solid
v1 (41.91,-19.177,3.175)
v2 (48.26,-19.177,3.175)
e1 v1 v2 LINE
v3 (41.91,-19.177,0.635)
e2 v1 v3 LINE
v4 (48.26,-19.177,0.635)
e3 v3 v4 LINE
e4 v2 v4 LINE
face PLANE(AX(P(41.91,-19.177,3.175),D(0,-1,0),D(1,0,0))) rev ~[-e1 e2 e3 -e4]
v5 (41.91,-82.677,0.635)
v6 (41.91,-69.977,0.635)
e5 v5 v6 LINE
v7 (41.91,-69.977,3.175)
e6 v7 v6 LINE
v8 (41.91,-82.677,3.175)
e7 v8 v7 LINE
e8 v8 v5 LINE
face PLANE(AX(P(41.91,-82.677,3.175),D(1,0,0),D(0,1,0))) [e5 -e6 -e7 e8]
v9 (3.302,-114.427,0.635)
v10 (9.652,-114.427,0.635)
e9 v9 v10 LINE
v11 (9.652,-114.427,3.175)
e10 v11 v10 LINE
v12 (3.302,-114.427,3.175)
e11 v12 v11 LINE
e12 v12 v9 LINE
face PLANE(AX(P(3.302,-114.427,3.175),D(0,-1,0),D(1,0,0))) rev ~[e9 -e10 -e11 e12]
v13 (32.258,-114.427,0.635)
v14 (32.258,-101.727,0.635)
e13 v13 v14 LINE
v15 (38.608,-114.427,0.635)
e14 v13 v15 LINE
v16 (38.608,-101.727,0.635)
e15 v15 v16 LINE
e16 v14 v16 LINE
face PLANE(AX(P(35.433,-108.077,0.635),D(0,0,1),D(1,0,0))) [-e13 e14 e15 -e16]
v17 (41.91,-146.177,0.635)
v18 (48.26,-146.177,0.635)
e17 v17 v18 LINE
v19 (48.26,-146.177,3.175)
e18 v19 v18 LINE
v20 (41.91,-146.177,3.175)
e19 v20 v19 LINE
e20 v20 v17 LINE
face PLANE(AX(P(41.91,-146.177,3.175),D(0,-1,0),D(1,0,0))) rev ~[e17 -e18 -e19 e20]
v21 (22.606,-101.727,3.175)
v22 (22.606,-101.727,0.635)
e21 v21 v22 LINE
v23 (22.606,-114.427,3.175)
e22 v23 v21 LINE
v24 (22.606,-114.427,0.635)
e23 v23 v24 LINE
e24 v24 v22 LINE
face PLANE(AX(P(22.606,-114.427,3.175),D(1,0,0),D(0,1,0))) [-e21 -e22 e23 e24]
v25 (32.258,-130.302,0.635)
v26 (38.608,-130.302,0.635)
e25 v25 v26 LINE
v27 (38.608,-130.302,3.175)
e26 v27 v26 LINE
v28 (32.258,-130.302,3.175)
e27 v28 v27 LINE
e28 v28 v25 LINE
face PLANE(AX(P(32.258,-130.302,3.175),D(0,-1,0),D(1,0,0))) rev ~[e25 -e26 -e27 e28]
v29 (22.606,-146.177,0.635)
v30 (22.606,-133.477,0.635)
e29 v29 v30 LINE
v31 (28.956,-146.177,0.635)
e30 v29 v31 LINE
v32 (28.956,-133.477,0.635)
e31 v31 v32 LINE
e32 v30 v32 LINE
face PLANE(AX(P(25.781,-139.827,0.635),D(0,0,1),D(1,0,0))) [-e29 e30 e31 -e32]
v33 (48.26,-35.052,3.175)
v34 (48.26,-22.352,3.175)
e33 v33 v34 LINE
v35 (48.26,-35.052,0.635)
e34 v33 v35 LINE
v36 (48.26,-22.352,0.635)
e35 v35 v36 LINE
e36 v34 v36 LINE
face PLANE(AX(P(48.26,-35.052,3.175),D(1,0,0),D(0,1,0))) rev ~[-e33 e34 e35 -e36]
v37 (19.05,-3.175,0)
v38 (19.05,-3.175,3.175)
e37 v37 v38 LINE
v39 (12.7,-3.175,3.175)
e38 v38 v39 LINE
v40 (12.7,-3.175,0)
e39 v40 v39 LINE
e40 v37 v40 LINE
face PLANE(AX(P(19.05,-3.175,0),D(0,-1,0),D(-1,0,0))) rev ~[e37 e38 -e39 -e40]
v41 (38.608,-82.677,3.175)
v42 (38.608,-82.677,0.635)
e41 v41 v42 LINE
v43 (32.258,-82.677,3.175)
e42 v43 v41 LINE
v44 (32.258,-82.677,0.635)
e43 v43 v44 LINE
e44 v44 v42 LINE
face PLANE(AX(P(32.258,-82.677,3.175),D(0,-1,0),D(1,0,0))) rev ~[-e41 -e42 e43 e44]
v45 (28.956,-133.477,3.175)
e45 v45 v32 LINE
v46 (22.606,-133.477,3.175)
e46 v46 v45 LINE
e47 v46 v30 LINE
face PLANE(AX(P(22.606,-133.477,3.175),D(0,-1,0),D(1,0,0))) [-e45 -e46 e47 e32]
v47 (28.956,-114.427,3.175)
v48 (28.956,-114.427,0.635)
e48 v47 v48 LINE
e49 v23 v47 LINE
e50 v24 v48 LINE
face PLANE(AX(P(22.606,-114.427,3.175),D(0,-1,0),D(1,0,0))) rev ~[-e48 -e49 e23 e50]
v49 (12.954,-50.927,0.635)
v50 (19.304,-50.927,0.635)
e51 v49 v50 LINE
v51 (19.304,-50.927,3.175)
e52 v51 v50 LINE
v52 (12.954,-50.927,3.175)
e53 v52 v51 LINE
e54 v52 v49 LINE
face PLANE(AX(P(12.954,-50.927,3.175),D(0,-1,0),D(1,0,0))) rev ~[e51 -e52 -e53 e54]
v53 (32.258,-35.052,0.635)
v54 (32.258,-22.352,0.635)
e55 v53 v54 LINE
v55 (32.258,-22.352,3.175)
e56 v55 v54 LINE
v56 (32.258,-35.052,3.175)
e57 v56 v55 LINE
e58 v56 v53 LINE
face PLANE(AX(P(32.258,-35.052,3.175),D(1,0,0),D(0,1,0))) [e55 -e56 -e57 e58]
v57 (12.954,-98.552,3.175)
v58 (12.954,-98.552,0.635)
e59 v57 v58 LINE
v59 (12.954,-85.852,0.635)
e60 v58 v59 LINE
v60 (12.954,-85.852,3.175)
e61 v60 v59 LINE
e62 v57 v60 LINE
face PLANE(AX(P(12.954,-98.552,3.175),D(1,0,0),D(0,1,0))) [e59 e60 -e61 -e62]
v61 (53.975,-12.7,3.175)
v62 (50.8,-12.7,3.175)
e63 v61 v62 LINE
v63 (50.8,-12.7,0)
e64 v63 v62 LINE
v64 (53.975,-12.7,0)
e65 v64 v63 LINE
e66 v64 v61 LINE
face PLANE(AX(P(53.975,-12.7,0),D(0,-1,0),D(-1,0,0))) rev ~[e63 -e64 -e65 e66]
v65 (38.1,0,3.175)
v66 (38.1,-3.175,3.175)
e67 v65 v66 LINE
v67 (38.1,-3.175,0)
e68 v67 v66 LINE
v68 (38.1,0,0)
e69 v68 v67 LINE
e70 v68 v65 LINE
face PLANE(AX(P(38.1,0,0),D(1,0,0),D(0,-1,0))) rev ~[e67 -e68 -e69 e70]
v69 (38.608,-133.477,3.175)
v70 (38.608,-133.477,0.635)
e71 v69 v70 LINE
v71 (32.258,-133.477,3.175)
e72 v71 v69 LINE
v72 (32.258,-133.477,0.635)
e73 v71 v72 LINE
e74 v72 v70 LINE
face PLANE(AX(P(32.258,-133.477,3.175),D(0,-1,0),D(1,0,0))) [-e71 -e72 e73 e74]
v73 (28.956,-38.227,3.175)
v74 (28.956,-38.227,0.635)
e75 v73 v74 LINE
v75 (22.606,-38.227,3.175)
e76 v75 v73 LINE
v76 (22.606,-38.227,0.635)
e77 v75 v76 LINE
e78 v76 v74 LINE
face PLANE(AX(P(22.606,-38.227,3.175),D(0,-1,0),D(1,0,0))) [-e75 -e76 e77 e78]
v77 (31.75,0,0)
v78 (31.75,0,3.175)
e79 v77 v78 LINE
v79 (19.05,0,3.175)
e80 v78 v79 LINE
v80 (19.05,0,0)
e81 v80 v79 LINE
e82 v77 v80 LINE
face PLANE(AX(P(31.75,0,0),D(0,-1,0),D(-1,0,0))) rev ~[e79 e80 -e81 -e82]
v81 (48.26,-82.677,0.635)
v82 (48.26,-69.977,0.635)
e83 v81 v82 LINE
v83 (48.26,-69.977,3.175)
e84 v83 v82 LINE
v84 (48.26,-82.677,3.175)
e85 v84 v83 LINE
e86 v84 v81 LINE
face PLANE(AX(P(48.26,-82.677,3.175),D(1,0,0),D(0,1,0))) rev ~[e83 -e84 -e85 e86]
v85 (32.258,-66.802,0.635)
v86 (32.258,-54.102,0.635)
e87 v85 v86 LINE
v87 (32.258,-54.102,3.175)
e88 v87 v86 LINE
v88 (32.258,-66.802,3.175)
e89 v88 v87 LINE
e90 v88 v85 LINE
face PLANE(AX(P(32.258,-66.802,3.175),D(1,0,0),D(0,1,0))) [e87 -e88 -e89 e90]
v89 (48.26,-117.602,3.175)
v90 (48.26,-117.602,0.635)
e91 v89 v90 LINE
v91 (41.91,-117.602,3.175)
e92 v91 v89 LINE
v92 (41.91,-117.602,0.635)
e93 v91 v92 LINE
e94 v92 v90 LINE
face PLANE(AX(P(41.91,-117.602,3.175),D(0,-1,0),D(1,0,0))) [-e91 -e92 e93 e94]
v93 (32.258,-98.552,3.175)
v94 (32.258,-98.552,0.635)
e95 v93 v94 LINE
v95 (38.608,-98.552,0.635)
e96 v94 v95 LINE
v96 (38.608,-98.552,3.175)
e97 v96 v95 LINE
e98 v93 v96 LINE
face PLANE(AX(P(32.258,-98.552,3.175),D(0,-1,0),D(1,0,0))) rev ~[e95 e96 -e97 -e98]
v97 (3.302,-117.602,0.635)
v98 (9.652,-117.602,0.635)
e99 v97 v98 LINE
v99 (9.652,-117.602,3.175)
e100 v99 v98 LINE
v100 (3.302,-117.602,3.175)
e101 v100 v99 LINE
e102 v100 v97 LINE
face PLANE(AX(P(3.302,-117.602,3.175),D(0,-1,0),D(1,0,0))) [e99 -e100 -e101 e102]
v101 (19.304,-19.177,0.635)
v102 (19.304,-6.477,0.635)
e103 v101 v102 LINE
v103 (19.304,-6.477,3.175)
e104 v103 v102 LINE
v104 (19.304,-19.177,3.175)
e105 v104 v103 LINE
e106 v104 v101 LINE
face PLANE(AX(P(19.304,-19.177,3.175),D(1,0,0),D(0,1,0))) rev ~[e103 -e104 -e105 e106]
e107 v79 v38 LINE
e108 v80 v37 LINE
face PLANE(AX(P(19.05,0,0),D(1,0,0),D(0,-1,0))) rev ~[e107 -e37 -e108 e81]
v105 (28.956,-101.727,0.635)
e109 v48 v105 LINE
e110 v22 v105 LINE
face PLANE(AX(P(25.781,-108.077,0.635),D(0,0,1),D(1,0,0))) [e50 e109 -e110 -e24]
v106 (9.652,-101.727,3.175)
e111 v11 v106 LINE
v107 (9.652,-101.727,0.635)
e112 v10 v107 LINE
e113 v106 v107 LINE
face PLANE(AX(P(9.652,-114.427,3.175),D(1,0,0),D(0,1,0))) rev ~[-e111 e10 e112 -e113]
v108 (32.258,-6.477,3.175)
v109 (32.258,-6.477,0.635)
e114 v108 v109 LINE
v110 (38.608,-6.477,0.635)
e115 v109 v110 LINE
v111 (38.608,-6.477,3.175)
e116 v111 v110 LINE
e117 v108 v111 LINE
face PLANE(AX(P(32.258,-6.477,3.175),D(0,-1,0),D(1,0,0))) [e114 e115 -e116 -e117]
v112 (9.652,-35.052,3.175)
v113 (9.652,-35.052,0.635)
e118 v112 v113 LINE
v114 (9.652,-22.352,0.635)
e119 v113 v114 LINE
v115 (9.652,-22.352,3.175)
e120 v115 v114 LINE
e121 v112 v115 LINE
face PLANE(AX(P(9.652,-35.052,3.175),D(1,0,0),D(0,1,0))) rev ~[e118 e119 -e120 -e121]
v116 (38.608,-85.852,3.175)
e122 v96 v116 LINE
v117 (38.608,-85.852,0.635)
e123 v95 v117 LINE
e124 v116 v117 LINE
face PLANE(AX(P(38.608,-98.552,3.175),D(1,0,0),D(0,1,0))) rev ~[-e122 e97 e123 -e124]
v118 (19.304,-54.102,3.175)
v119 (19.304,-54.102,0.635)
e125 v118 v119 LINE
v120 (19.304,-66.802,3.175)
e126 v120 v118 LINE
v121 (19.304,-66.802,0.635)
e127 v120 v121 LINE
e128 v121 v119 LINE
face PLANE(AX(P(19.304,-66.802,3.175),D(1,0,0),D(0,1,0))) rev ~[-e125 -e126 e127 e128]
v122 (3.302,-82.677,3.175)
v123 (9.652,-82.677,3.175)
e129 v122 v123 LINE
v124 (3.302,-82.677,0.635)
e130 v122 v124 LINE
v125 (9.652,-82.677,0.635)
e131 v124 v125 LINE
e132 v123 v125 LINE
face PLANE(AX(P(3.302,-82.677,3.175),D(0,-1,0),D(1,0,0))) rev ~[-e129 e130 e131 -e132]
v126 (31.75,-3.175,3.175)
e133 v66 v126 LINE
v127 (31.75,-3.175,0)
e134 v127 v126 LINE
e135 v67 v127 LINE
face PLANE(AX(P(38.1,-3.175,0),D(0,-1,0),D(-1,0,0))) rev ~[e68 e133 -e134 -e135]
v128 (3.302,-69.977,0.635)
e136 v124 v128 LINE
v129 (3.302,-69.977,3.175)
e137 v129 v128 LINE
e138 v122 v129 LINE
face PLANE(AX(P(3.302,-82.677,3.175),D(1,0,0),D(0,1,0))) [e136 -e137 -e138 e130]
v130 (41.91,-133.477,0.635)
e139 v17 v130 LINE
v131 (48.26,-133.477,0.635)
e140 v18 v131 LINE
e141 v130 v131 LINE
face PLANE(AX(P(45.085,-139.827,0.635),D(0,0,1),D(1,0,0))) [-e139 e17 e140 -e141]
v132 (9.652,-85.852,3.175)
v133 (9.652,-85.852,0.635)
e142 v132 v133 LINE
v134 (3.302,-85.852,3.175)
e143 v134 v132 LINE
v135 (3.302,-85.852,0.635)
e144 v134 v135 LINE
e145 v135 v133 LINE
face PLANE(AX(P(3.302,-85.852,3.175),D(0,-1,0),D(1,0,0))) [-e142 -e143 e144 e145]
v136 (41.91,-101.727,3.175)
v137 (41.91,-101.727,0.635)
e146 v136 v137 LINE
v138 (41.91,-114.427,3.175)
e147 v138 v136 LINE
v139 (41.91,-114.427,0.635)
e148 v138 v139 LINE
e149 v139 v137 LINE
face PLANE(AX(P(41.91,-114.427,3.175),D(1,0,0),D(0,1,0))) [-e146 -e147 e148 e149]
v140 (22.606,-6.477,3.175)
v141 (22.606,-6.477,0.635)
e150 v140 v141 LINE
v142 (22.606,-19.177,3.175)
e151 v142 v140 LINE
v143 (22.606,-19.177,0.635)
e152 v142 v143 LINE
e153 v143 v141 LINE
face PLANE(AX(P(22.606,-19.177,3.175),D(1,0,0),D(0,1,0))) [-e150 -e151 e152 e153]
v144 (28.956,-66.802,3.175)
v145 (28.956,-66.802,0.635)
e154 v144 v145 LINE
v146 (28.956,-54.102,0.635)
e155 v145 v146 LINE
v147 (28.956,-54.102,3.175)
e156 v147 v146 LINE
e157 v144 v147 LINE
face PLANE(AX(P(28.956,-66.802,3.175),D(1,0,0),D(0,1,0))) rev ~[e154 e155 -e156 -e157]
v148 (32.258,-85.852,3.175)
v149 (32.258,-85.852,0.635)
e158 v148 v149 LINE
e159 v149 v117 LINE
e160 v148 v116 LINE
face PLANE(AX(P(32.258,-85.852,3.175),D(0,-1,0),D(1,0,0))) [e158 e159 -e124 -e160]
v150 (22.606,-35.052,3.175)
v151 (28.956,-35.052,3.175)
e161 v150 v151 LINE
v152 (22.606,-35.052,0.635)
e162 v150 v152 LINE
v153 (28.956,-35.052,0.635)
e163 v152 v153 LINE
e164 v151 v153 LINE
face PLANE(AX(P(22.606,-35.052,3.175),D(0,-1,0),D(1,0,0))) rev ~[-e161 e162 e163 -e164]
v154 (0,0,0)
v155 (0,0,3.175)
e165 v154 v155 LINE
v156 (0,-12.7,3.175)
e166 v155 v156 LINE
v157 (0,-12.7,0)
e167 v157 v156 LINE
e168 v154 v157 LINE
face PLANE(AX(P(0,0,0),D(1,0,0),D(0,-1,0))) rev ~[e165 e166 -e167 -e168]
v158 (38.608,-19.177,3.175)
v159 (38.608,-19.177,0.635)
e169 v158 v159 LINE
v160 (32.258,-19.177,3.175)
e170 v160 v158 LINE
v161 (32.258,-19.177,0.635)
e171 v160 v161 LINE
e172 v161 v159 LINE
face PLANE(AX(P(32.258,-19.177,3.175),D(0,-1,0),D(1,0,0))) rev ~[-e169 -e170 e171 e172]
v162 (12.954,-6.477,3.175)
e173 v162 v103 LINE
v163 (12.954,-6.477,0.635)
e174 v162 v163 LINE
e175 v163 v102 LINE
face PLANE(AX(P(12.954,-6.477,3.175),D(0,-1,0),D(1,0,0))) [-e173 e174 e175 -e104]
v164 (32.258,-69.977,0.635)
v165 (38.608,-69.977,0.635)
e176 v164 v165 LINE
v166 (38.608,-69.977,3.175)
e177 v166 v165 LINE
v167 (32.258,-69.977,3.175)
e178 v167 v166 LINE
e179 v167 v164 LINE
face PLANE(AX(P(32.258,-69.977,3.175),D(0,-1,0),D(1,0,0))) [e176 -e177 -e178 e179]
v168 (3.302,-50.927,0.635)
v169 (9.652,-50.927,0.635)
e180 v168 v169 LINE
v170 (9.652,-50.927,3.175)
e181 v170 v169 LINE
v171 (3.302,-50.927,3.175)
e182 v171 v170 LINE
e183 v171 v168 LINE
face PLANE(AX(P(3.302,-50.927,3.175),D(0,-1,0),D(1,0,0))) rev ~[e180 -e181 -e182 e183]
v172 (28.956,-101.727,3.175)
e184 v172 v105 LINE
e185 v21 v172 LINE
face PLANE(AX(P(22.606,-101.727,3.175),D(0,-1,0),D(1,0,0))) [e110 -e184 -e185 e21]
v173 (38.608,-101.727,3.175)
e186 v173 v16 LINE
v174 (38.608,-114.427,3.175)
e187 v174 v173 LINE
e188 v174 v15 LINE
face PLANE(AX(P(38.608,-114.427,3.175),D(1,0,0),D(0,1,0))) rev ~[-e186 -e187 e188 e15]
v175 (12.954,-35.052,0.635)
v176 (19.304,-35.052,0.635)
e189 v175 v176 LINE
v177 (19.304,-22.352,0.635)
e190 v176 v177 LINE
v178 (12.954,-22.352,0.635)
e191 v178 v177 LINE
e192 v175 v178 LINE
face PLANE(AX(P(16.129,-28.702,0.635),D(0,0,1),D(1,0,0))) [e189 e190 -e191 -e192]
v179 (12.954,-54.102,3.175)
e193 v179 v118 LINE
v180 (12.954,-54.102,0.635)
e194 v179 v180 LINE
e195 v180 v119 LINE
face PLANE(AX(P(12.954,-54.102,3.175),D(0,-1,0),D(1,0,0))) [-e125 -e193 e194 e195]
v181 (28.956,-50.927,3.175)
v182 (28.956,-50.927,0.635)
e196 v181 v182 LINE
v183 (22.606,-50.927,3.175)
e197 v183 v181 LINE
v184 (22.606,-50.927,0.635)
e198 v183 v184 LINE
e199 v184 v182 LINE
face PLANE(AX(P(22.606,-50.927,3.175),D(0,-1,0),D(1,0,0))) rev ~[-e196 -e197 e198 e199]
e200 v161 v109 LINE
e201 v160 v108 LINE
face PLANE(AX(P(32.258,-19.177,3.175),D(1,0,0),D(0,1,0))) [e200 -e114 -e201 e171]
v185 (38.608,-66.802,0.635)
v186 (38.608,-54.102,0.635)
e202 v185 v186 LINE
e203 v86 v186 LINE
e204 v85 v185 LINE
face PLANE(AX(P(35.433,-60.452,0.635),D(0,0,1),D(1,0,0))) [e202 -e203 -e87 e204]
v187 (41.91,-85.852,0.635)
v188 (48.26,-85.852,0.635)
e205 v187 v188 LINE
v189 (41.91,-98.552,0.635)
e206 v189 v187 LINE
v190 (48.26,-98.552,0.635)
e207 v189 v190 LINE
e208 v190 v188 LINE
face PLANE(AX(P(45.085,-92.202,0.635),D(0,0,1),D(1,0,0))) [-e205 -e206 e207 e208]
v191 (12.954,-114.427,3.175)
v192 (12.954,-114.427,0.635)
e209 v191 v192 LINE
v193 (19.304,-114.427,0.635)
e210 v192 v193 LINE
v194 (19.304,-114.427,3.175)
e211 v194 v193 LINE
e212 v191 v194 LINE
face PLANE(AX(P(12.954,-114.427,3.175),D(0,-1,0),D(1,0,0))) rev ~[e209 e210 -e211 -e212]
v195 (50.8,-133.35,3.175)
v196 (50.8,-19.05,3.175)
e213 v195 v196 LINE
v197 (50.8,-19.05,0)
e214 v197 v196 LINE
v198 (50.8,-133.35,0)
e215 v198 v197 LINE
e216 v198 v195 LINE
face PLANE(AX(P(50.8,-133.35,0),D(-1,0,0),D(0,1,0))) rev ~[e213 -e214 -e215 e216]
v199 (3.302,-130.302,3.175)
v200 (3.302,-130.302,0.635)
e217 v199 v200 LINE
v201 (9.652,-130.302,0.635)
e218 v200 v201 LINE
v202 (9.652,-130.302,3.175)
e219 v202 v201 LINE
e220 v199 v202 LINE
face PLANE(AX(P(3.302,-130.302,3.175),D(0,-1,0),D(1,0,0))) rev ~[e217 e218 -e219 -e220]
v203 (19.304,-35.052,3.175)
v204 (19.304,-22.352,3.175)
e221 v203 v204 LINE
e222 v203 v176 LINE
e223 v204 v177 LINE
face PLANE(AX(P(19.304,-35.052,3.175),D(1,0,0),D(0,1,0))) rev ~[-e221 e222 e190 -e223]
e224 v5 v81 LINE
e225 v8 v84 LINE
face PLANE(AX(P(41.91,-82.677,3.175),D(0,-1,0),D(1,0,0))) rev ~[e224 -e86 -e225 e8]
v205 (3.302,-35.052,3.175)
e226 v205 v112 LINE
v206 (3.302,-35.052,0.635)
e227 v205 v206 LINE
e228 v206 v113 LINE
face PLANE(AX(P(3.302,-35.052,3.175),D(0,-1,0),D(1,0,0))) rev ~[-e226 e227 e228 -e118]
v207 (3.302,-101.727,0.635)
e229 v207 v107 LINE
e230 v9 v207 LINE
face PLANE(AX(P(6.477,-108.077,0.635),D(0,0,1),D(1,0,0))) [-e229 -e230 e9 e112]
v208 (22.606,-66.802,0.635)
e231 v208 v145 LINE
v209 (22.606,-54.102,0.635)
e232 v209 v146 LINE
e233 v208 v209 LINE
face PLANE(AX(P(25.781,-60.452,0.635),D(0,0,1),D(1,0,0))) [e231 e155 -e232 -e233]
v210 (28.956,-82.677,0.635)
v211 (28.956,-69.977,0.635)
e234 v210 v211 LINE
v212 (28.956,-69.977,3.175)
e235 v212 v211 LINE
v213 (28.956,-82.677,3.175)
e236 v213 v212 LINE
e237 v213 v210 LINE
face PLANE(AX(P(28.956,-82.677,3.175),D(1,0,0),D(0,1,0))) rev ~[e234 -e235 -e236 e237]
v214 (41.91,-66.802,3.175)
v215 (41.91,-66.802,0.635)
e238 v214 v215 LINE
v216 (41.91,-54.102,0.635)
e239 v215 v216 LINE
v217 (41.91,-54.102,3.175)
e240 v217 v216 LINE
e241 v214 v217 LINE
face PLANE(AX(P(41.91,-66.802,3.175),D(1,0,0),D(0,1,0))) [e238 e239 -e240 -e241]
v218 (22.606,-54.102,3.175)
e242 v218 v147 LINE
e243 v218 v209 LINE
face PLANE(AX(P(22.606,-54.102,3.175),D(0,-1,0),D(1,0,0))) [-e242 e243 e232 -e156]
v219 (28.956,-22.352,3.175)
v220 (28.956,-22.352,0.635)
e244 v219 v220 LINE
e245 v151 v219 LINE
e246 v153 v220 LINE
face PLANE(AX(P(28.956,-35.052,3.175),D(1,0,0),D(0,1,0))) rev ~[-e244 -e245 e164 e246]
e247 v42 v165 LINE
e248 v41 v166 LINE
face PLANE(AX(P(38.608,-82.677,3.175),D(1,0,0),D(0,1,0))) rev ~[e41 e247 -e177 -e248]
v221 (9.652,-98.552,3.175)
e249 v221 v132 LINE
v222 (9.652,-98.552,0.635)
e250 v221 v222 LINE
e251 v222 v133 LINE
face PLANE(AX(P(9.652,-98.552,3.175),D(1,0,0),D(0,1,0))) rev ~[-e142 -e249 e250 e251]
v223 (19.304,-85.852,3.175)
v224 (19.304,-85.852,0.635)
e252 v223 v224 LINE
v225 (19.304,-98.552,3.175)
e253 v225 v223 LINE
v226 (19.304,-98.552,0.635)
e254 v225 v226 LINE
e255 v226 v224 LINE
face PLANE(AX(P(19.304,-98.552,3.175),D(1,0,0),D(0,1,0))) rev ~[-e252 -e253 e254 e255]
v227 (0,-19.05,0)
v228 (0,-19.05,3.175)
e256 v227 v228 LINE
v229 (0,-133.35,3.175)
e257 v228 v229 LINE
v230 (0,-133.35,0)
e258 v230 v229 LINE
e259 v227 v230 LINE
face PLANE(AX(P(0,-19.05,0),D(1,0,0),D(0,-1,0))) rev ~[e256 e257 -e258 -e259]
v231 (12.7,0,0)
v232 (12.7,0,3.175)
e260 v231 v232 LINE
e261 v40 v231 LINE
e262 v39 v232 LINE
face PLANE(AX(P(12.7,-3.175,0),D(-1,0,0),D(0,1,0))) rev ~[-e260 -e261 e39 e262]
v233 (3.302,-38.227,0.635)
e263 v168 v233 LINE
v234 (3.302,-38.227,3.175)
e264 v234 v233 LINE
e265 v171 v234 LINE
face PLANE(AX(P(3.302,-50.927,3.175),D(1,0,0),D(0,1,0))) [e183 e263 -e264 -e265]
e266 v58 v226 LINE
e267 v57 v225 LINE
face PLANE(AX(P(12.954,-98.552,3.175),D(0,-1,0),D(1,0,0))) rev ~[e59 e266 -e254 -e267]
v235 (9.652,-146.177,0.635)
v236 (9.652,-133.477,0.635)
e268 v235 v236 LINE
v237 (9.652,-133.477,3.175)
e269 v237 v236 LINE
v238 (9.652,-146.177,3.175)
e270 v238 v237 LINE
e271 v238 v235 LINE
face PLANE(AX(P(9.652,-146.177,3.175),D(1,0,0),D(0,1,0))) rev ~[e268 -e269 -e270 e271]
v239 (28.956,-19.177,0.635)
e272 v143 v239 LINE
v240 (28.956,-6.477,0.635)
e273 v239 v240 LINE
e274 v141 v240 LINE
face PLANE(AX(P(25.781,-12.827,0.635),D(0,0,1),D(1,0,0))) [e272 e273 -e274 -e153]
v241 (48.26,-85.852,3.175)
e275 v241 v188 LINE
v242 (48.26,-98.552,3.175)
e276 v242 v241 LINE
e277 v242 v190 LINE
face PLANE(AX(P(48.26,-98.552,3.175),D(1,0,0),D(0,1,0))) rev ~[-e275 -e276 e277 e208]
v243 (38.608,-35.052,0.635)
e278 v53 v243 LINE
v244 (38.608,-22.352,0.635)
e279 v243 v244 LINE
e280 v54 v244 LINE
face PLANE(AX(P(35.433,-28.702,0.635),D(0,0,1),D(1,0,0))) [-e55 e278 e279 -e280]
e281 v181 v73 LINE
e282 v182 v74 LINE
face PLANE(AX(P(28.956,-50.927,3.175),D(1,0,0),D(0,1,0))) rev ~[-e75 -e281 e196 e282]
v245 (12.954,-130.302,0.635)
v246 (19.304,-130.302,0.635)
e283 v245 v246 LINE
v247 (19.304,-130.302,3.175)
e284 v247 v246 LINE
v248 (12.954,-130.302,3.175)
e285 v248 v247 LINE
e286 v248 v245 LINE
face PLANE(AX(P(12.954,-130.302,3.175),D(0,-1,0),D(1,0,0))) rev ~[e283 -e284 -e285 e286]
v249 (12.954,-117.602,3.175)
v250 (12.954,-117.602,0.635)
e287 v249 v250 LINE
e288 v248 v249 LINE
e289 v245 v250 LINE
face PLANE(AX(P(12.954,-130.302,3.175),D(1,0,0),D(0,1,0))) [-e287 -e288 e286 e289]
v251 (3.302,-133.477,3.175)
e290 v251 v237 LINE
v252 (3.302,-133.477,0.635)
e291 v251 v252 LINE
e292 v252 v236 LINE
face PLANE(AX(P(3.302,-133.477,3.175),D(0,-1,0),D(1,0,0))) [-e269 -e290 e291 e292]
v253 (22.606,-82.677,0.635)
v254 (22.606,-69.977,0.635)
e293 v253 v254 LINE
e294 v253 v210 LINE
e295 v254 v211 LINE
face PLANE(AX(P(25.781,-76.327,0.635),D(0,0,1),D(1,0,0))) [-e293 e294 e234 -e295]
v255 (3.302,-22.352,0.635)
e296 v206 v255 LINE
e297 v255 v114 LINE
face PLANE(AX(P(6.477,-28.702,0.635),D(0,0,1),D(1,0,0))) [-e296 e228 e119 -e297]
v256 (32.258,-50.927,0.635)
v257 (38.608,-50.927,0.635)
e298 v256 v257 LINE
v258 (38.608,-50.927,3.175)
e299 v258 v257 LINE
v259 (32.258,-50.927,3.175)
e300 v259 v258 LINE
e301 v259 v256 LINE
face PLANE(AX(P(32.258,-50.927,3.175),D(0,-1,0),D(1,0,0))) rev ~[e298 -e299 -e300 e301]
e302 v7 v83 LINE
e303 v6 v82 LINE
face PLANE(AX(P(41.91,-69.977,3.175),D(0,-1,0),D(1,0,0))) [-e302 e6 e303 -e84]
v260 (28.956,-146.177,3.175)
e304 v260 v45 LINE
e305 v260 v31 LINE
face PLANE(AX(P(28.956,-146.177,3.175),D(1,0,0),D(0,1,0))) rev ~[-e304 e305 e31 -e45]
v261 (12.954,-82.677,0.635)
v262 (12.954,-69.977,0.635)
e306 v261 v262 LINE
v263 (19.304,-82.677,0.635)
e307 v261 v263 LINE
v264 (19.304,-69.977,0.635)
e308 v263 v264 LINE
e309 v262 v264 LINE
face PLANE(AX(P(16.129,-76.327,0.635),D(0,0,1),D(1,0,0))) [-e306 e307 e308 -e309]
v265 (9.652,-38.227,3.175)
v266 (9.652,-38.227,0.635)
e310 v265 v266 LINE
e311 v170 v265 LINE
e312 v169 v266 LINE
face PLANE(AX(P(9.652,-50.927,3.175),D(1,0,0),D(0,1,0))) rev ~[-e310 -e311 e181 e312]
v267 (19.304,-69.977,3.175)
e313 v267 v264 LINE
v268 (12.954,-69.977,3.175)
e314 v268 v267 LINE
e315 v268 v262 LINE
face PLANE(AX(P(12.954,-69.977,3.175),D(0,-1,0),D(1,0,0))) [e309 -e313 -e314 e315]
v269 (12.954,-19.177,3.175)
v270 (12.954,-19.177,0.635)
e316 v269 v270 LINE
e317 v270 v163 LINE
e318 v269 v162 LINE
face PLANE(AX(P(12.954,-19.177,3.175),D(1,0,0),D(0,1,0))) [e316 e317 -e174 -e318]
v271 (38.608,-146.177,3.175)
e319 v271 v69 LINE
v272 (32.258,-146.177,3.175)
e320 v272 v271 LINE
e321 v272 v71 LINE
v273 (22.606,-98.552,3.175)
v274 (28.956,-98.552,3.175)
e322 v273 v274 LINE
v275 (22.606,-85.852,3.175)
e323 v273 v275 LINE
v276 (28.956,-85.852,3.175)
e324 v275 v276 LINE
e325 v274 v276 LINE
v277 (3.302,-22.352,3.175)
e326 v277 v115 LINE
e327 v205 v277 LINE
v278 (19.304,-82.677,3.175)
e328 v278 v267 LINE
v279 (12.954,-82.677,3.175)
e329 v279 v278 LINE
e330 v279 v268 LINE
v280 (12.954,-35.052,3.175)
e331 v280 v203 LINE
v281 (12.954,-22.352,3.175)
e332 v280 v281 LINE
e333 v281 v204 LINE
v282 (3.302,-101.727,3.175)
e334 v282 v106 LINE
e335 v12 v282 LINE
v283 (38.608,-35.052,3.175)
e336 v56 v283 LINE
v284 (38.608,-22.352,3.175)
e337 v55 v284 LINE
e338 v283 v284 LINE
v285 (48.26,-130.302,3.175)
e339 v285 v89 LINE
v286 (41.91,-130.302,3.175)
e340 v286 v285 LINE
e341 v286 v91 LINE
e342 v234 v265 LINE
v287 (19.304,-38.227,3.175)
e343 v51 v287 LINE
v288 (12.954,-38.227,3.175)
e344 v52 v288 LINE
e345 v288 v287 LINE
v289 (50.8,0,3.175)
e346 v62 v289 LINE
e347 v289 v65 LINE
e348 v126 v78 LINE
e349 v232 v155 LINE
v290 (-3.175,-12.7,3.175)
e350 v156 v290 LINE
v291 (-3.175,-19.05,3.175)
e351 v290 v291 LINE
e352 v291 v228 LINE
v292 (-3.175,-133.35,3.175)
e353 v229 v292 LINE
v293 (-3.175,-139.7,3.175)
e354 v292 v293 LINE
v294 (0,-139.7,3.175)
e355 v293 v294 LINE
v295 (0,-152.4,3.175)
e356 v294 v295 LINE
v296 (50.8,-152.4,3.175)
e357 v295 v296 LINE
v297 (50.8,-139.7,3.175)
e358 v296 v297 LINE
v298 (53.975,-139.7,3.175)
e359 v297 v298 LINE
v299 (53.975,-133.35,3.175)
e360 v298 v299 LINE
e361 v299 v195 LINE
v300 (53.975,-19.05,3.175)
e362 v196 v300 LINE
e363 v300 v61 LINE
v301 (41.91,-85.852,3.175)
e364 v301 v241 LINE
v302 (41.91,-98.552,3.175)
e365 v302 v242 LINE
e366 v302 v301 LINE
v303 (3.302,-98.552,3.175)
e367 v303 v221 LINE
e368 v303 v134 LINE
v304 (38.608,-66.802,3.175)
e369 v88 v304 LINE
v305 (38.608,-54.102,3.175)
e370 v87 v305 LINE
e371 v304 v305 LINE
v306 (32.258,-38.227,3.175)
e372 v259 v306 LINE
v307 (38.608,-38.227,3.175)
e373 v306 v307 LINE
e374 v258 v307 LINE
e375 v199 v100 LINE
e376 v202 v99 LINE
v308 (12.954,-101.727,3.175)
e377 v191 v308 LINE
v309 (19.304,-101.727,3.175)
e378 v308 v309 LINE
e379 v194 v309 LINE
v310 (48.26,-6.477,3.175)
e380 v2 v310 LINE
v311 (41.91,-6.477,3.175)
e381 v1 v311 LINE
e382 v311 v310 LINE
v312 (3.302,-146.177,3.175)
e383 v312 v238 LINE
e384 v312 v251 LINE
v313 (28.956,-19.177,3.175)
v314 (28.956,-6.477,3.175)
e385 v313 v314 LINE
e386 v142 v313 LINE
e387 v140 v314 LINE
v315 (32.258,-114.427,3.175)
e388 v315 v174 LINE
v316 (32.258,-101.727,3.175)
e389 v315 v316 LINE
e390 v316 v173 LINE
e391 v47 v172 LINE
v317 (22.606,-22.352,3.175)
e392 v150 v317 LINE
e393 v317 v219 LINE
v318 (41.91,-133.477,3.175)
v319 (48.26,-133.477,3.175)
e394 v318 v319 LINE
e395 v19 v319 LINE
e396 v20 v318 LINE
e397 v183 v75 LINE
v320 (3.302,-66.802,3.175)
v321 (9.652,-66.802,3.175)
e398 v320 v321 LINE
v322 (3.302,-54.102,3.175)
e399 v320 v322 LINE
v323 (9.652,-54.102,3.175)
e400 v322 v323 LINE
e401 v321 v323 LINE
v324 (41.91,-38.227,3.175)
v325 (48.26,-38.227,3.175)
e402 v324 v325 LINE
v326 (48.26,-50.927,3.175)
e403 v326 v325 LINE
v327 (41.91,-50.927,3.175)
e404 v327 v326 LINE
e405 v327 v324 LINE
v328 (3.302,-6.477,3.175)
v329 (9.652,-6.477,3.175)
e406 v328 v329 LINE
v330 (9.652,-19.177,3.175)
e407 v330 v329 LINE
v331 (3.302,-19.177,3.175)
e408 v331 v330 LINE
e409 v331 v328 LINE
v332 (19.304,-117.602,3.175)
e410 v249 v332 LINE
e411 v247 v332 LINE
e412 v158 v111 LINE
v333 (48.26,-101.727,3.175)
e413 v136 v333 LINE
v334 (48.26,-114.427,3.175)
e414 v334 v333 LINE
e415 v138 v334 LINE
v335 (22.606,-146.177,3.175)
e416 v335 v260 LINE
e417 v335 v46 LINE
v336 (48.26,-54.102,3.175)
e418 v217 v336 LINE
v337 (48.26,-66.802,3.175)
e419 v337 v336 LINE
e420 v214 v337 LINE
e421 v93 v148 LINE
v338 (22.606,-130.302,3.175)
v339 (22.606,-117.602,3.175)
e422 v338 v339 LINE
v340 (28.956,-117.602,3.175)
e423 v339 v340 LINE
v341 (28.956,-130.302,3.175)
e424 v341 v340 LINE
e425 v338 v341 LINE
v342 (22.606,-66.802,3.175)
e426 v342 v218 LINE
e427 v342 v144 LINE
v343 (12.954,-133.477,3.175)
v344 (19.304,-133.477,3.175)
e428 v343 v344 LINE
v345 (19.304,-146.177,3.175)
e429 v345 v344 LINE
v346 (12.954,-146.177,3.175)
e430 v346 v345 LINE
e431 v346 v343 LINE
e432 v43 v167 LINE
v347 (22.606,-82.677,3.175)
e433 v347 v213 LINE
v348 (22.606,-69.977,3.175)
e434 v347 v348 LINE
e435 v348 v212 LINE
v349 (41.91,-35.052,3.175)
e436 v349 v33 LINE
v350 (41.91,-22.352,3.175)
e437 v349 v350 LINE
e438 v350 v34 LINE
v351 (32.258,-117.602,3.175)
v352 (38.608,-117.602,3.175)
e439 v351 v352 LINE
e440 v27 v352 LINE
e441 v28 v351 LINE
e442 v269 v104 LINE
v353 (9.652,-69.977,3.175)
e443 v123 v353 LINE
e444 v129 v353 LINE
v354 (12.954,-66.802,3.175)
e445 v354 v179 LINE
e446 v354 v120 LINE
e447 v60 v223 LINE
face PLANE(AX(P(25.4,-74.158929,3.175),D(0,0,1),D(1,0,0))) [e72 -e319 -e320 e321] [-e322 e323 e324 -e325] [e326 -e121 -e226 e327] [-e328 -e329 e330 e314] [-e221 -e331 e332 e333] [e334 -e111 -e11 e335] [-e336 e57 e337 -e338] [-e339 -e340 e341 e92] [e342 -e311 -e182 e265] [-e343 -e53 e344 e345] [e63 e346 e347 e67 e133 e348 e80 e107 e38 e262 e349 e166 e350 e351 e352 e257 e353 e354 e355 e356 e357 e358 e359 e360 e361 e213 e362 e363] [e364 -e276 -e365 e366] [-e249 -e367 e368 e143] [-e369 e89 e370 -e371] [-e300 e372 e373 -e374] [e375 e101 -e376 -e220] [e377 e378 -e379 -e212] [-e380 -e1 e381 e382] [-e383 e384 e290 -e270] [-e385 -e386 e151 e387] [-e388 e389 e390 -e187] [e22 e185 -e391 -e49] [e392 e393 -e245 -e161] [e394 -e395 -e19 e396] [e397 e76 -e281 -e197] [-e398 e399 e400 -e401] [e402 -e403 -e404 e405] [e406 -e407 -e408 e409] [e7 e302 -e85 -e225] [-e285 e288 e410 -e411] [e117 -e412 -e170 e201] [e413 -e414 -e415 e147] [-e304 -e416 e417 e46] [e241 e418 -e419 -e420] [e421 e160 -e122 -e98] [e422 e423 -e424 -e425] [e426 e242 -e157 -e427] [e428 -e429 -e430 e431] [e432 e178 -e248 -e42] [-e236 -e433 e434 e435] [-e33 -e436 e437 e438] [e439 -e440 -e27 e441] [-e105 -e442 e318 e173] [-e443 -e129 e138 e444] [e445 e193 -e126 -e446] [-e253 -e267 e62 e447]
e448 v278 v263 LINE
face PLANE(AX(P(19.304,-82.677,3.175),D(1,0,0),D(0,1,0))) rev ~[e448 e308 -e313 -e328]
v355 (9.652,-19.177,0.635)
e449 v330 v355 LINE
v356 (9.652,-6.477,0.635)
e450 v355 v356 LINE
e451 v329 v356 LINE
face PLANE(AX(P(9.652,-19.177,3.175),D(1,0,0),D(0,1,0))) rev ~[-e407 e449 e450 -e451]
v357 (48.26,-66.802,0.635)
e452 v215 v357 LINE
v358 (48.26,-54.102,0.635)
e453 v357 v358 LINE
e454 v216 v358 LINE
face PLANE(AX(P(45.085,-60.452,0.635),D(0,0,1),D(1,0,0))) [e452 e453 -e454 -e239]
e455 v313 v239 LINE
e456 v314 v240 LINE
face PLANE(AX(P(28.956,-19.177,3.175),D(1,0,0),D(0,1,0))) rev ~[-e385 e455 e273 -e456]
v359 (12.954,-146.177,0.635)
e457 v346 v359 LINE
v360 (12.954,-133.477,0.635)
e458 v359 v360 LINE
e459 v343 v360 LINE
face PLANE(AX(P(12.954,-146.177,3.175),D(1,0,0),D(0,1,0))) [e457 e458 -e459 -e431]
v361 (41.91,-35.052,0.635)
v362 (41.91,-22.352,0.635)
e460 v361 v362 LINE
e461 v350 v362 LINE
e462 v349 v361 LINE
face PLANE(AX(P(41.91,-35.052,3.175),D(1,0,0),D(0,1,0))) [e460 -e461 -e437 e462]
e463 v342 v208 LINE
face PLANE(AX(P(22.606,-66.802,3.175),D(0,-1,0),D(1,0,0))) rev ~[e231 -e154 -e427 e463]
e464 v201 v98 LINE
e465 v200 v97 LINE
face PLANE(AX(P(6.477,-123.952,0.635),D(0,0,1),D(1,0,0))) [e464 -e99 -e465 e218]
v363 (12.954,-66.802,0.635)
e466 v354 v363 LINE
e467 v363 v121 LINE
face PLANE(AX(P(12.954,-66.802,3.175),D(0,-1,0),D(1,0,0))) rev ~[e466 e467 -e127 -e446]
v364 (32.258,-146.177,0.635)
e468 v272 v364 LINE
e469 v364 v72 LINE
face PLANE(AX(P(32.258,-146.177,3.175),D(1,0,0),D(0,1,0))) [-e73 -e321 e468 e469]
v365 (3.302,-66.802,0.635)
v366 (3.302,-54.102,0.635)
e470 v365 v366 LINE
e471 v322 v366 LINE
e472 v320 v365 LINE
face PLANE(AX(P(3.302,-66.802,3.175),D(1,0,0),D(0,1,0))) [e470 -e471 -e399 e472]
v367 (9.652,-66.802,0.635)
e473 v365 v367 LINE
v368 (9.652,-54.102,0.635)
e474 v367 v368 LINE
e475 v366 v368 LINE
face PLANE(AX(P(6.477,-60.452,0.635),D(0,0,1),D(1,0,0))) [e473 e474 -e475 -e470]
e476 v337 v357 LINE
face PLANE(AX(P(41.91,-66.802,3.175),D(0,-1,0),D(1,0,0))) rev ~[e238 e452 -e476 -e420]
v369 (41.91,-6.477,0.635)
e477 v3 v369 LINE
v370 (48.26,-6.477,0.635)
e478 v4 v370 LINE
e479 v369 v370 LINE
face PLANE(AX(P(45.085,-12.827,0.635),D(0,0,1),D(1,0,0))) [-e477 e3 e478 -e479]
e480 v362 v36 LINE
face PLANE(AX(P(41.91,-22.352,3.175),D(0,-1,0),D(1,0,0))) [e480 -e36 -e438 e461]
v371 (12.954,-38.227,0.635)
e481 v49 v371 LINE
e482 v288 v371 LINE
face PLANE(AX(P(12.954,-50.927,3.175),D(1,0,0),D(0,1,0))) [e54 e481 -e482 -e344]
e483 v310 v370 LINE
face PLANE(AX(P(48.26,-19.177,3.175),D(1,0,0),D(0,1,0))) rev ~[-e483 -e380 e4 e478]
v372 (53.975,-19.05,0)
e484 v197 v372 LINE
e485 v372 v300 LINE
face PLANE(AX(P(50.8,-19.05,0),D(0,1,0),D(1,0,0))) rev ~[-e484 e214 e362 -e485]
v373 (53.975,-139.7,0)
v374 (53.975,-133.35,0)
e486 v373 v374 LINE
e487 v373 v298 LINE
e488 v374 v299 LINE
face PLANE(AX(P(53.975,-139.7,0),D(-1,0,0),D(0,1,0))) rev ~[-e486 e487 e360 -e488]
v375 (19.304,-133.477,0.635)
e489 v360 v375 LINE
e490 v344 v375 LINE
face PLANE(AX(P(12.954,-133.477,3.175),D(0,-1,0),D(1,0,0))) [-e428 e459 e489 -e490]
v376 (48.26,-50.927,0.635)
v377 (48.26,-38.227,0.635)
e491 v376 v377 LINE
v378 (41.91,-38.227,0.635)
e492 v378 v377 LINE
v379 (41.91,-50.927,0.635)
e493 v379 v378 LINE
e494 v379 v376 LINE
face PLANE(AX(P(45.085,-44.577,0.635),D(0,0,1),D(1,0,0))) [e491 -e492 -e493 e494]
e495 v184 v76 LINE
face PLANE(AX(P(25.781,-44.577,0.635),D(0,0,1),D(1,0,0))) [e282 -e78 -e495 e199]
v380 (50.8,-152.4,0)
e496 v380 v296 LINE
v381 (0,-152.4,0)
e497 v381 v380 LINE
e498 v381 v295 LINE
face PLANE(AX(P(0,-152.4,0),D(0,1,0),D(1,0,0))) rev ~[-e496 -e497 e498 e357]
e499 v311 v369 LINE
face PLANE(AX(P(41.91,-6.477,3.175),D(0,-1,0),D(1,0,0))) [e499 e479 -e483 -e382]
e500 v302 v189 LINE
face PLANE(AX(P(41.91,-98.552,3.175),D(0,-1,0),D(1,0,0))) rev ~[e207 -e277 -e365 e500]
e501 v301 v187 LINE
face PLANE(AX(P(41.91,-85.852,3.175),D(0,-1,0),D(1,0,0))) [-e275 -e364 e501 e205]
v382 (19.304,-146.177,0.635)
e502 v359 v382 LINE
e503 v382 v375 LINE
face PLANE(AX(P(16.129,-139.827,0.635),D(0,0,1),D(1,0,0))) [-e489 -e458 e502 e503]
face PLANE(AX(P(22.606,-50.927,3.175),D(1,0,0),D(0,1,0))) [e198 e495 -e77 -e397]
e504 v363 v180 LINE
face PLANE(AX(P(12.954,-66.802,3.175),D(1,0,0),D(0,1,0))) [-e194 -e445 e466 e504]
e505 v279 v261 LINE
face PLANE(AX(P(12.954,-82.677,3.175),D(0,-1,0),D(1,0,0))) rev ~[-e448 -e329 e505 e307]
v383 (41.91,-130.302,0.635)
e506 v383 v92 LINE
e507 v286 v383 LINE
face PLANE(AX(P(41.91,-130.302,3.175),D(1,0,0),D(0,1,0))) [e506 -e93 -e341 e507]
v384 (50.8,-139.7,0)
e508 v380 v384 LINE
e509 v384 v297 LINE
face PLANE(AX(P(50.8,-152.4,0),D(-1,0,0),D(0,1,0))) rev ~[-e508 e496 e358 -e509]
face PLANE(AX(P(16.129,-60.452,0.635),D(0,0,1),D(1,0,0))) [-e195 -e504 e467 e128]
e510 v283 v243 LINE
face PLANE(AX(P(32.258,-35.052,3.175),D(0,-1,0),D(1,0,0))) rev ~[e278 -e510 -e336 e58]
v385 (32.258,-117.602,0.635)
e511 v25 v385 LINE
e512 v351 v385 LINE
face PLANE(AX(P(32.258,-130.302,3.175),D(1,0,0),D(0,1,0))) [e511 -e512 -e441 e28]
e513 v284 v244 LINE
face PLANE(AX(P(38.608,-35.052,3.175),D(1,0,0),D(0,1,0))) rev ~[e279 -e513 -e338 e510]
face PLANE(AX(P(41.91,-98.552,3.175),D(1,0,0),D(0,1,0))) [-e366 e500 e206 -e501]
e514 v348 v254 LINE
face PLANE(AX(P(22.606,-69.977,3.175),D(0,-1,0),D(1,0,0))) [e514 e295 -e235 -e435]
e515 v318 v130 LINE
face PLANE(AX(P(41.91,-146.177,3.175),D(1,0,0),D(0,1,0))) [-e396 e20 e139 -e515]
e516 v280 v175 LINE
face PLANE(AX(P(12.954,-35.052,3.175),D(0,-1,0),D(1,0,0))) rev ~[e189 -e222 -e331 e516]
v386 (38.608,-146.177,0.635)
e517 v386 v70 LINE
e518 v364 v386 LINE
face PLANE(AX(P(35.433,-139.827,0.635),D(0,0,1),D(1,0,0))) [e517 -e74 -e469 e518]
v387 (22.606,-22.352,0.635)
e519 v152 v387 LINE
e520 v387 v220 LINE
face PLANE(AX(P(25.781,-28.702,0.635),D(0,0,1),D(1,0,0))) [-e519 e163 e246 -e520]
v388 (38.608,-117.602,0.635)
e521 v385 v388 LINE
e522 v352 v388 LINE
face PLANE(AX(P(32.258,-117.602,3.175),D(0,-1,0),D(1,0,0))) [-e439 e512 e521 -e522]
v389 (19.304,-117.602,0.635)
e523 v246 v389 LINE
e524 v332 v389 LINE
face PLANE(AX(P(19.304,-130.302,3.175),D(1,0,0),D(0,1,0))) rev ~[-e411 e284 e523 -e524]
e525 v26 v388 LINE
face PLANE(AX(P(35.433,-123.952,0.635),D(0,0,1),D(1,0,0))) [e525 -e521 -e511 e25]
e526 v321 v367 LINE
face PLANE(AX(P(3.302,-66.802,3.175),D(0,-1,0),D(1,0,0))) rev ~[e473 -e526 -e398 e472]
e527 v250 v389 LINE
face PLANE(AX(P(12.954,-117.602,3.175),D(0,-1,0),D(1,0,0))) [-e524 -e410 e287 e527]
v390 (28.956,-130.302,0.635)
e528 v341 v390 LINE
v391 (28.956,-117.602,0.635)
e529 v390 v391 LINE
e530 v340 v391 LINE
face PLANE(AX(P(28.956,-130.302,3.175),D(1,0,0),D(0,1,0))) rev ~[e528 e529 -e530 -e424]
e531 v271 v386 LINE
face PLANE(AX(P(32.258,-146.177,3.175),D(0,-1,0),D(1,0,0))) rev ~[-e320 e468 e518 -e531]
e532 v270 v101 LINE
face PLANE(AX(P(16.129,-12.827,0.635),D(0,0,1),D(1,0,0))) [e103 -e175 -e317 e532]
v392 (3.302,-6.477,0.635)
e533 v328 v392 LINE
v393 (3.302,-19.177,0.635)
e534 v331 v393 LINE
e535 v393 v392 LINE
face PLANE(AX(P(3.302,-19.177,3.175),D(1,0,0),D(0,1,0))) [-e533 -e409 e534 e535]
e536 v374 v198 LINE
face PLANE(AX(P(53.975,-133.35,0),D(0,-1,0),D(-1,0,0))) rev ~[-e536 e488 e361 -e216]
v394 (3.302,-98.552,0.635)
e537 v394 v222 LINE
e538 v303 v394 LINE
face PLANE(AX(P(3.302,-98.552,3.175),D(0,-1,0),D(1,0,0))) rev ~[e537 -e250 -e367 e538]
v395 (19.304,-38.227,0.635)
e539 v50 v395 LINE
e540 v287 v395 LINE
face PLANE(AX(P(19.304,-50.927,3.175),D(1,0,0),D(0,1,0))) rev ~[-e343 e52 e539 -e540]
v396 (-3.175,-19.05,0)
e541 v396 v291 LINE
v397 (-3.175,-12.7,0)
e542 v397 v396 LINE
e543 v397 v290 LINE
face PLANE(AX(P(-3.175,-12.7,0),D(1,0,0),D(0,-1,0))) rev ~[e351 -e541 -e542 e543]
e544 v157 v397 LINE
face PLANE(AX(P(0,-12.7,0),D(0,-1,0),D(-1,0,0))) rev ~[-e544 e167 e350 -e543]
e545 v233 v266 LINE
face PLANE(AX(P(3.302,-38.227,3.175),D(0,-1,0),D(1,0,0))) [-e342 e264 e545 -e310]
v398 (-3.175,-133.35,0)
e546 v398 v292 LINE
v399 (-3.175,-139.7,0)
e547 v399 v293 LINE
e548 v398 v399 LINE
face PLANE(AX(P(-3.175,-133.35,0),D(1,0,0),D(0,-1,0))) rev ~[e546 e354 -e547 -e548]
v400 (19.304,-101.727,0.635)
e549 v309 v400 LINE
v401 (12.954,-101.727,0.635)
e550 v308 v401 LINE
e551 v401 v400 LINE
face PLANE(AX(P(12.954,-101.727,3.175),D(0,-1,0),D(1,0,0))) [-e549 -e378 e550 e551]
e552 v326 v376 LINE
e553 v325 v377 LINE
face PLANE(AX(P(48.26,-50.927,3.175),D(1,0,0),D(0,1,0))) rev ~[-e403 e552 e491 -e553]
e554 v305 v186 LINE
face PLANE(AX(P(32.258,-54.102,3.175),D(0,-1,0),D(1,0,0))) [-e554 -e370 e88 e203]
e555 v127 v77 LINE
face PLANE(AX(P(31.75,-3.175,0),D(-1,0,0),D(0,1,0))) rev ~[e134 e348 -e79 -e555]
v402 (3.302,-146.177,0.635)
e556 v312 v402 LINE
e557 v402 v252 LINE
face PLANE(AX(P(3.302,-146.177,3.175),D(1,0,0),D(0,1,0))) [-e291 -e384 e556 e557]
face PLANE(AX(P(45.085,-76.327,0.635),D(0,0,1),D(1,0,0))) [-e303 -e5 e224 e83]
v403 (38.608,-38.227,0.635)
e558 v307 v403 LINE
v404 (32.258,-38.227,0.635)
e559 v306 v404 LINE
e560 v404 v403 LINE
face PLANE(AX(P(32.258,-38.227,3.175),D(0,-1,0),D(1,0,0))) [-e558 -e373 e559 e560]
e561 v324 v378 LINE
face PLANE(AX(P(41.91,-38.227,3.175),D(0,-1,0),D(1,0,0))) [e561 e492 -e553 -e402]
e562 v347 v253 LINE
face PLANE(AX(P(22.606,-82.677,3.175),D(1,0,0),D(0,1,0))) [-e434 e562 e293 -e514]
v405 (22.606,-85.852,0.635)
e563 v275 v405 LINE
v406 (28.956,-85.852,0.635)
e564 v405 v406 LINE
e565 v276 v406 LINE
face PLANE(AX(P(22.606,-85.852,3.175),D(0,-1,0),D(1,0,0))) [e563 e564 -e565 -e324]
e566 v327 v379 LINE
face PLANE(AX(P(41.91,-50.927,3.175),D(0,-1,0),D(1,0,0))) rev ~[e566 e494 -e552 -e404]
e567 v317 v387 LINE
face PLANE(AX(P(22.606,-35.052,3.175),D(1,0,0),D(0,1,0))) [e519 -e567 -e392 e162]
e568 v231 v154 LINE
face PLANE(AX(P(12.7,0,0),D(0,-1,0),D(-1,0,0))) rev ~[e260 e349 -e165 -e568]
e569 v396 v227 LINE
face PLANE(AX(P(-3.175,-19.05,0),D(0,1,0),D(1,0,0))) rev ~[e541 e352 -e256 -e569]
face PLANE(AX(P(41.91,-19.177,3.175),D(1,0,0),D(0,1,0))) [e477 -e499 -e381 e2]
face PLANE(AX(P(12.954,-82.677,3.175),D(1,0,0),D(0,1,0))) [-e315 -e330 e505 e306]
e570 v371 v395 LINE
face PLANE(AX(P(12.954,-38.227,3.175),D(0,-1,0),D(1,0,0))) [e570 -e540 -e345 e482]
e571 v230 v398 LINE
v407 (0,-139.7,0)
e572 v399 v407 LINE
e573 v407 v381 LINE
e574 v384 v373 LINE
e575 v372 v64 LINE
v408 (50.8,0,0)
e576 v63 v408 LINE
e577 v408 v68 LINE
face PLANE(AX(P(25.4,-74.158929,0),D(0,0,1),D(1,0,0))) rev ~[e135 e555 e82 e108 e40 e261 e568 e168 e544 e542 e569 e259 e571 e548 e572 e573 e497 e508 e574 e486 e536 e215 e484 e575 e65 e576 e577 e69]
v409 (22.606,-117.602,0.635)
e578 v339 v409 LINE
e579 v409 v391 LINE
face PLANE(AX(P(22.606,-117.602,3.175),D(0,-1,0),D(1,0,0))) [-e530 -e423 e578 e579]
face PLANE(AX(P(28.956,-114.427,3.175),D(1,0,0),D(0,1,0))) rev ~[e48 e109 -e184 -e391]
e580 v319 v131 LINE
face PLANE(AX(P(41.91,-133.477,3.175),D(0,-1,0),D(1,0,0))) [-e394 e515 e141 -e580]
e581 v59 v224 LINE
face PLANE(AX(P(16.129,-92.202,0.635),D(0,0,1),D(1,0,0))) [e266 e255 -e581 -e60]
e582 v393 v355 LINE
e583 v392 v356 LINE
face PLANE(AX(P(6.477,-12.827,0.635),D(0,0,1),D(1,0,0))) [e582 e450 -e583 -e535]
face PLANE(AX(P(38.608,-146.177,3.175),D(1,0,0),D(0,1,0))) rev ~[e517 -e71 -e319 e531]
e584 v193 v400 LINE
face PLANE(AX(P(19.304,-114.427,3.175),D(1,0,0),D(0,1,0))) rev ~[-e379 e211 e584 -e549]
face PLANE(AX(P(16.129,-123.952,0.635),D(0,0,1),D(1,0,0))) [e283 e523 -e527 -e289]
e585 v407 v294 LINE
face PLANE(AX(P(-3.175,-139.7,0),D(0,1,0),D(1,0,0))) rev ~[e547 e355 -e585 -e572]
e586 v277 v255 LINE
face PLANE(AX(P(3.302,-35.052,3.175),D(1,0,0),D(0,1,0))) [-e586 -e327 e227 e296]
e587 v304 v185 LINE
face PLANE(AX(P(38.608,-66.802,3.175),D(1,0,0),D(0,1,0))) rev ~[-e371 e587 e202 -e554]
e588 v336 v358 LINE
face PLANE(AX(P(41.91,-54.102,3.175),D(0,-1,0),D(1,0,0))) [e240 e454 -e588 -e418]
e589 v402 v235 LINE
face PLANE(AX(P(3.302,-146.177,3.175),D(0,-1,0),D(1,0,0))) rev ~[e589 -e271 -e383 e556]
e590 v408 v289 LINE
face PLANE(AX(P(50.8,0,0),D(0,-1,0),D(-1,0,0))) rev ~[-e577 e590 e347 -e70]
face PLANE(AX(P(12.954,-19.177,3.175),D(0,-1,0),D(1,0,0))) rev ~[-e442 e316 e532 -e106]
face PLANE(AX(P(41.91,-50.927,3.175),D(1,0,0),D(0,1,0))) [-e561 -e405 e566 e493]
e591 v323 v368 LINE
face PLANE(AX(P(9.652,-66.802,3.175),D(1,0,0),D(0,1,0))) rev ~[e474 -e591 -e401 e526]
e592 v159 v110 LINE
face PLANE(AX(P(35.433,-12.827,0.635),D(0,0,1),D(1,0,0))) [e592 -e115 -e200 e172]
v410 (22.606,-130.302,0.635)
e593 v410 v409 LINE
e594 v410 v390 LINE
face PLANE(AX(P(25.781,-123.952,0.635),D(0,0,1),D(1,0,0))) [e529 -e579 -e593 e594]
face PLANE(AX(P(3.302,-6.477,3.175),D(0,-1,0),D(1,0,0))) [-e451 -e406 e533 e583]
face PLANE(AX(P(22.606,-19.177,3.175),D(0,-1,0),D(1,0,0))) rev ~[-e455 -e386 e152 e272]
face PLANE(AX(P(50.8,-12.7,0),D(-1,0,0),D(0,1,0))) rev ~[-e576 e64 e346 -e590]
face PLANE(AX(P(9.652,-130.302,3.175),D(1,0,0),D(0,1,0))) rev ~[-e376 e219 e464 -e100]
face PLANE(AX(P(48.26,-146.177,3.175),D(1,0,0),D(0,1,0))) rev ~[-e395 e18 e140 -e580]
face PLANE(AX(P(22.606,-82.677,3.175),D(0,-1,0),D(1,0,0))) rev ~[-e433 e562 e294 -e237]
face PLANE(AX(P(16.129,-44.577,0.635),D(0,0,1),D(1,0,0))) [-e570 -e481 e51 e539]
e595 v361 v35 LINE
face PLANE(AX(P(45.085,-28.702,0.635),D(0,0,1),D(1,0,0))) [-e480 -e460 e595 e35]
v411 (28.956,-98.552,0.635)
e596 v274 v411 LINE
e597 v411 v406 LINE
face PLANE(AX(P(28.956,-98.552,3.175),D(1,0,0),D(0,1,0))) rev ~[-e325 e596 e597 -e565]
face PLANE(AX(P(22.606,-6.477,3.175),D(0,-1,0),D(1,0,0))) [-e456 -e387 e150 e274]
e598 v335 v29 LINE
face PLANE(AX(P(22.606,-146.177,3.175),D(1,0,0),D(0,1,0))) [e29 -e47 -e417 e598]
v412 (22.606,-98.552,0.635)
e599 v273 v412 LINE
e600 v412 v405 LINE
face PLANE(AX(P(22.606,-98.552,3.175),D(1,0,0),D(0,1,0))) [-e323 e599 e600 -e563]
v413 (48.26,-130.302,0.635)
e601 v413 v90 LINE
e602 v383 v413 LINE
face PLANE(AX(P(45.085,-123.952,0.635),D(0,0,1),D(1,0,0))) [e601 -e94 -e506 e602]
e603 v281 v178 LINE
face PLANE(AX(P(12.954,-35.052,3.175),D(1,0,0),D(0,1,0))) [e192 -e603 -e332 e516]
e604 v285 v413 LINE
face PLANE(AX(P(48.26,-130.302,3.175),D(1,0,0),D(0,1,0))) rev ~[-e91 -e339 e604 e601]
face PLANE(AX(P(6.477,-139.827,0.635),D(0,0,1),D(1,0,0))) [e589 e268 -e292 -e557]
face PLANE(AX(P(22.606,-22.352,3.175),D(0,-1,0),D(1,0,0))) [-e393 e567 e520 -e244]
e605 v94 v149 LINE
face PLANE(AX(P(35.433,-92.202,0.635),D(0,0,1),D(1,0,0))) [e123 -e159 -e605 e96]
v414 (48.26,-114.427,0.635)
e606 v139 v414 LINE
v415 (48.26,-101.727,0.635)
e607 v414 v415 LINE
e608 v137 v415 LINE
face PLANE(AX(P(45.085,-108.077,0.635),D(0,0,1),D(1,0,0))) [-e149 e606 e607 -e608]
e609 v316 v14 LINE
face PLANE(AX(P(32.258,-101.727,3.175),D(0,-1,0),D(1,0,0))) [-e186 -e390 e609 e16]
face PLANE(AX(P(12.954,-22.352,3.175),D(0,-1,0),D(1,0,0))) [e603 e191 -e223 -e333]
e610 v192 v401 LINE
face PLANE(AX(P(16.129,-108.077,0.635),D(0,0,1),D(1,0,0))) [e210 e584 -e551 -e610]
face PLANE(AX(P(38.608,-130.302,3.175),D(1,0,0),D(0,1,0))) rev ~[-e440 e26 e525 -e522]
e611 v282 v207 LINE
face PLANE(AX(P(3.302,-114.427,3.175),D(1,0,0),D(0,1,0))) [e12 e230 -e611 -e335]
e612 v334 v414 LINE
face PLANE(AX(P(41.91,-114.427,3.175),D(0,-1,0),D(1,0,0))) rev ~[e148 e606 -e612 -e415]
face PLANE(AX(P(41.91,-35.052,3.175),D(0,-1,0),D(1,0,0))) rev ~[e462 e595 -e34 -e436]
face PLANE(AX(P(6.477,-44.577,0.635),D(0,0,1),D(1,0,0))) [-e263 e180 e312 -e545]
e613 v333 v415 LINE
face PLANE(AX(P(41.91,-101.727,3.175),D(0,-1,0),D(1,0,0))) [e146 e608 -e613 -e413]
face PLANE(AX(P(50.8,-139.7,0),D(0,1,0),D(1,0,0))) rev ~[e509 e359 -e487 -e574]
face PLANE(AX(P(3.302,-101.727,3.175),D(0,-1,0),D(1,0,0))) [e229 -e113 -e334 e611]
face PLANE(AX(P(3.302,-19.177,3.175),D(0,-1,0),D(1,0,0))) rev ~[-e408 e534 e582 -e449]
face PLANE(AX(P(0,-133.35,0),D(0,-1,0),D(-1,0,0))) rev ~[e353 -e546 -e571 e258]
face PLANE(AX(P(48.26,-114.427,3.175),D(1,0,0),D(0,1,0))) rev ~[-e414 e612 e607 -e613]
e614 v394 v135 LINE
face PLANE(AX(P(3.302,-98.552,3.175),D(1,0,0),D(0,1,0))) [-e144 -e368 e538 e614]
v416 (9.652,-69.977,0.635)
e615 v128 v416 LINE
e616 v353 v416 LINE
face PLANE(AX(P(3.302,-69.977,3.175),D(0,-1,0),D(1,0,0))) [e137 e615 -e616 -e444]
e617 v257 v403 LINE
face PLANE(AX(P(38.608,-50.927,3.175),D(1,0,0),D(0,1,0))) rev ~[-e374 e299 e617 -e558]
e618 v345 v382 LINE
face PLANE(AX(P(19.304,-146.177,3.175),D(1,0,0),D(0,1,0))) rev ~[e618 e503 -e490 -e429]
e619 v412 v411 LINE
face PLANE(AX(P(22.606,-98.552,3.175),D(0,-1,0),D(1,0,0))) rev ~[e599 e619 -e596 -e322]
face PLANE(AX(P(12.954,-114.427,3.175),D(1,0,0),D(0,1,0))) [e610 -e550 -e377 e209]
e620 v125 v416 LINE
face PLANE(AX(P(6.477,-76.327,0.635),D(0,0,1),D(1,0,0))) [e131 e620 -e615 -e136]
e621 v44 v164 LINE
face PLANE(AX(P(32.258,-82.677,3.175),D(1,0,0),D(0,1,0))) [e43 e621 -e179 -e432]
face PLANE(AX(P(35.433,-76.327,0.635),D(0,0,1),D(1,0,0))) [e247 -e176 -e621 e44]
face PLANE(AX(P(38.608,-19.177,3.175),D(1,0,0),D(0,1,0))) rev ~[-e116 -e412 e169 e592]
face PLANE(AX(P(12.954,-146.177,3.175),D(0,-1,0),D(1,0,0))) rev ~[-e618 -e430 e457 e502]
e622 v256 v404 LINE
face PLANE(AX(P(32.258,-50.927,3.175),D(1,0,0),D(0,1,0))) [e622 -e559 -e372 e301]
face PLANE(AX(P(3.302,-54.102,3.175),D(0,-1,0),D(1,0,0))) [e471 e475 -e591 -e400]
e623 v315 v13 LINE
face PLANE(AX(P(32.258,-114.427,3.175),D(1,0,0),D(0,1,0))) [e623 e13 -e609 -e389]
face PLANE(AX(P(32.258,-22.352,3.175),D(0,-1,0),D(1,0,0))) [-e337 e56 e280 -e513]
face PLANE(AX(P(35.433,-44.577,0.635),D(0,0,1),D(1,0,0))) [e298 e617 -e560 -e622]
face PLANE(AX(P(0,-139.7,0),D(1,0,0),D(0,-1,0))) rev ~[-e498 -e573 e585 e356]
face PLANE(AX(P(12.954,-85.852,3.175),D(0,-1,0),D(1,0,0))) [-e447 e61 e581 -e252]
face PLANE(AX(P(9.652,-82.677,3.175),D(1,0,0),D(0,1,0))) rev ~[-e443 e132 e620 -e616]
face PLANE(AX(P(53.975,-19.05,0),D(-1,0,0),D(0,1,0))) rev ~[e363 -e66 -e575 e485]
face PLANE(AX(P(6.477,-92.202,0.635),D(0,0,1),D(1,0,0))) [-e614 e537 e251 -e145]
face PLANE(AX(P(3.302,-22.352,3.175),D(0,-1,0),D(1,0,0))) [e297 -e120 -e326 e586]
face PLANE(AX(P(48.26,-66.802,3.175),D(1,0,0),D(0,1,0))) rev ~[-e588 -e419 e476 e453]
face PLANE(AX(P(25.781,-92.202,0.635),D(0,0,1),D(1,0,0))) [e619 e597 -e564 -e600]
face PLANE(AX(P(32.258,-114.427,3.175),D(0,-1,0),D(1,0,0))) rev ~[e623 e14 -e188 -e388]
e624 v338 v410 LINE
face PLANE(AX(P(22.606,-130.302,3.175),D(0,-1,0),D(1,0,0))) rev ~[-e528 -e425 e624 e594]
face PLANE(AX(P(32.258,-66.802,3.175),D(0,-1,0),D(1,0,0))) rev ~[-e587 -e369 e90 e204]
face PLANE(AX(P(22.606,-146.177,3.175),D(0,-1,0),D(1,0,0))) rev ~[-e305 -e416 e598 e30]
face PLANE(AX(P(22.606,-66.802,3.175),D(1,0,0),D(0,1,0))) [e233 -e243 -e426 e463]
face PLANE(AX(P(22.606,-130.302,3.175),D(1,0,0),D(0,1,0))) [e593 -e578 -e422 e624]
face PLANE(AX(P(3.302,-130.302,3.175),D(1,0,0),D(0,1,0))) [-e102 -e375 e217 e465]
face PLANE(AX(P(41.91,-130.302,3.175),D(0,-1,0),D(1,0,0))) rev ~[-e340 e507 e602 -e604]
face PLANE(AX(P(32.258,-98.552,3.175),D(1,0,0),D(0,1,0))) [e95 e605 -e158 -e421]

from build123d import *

# Parameters (mm, degrees)
BOSS_EXTRUDE1_DEPTH  = 3.175
SKETCH2_W            = 6.35
SKETCH2_H            = 12.7
CUT_EXTRUDE1_DEPTH   = 2.54
LPATTERN1_COUNT      = 5
LPATTERN1_PITCH      = 9.652
LPATTERN1_COUNT_DIR2 = 9
LPATTERN1_PITCH_DIR2 = 15.875


with BuildPart() as part:
    # Sketch1 → Boss-Extrude1 (new body)
    with BuildSketch(Plane.XY):
        Polygon((31.75, 0), (19.05, 0), (19.05, -3.175), (12.7, -3.175), (12.7, 0), (0, 0), (0, -12.7), (-3.175, -12.7), (-3.175, -19.05), (0, -19.05), (0, -133.35), (-3.175, -133.35), (-3.175, -139.7), (0, -139.7), (0, -152.4), (12.7, -152.4), (38.1, -152.4), (50.8, -152.4), (50.8, -139.7), (53.975, -139.7), (53.975, -133.35), (50.8, -133.35), (50.8, -19.05), (53.975, -19.05), (53.975, -12.7), (50.8, -12.7), (50.8, 0), (38.1, 0), (38.1, -3.175), (31.75, -3.175), align=None)
    extrude(amount=BOSS_EXTRUDE1_DEPTH)

    # Sketch2 → Cut-Extrude1 (cut)
    with BuildSketch(Plane.XY.offset(3.175)):
        with Locations((6.477, -12.827)):
            Rectangle(SKETCH2_W, SKETCH2_H)
    cut_extrude1 = extrude(amount=-CUT_EXTRUDE1_DEPTH, mode=Mode.SUBTRACT)

    # LPattern1: Cut-Extrude1 5 × 9
    with Locations(*[(i * LPATTERN1_PITCH, -j * LPATTERN1_PITCH_DIR2, 0) for i in range(LPATTERN1_COUNT) for j in range(LPATTERN1_COUNT_DIR2) if (i, j) != (0, 0)]):
        add(cut_extrude1, mode=Mode.SUBTRACT)


solid = part.part
